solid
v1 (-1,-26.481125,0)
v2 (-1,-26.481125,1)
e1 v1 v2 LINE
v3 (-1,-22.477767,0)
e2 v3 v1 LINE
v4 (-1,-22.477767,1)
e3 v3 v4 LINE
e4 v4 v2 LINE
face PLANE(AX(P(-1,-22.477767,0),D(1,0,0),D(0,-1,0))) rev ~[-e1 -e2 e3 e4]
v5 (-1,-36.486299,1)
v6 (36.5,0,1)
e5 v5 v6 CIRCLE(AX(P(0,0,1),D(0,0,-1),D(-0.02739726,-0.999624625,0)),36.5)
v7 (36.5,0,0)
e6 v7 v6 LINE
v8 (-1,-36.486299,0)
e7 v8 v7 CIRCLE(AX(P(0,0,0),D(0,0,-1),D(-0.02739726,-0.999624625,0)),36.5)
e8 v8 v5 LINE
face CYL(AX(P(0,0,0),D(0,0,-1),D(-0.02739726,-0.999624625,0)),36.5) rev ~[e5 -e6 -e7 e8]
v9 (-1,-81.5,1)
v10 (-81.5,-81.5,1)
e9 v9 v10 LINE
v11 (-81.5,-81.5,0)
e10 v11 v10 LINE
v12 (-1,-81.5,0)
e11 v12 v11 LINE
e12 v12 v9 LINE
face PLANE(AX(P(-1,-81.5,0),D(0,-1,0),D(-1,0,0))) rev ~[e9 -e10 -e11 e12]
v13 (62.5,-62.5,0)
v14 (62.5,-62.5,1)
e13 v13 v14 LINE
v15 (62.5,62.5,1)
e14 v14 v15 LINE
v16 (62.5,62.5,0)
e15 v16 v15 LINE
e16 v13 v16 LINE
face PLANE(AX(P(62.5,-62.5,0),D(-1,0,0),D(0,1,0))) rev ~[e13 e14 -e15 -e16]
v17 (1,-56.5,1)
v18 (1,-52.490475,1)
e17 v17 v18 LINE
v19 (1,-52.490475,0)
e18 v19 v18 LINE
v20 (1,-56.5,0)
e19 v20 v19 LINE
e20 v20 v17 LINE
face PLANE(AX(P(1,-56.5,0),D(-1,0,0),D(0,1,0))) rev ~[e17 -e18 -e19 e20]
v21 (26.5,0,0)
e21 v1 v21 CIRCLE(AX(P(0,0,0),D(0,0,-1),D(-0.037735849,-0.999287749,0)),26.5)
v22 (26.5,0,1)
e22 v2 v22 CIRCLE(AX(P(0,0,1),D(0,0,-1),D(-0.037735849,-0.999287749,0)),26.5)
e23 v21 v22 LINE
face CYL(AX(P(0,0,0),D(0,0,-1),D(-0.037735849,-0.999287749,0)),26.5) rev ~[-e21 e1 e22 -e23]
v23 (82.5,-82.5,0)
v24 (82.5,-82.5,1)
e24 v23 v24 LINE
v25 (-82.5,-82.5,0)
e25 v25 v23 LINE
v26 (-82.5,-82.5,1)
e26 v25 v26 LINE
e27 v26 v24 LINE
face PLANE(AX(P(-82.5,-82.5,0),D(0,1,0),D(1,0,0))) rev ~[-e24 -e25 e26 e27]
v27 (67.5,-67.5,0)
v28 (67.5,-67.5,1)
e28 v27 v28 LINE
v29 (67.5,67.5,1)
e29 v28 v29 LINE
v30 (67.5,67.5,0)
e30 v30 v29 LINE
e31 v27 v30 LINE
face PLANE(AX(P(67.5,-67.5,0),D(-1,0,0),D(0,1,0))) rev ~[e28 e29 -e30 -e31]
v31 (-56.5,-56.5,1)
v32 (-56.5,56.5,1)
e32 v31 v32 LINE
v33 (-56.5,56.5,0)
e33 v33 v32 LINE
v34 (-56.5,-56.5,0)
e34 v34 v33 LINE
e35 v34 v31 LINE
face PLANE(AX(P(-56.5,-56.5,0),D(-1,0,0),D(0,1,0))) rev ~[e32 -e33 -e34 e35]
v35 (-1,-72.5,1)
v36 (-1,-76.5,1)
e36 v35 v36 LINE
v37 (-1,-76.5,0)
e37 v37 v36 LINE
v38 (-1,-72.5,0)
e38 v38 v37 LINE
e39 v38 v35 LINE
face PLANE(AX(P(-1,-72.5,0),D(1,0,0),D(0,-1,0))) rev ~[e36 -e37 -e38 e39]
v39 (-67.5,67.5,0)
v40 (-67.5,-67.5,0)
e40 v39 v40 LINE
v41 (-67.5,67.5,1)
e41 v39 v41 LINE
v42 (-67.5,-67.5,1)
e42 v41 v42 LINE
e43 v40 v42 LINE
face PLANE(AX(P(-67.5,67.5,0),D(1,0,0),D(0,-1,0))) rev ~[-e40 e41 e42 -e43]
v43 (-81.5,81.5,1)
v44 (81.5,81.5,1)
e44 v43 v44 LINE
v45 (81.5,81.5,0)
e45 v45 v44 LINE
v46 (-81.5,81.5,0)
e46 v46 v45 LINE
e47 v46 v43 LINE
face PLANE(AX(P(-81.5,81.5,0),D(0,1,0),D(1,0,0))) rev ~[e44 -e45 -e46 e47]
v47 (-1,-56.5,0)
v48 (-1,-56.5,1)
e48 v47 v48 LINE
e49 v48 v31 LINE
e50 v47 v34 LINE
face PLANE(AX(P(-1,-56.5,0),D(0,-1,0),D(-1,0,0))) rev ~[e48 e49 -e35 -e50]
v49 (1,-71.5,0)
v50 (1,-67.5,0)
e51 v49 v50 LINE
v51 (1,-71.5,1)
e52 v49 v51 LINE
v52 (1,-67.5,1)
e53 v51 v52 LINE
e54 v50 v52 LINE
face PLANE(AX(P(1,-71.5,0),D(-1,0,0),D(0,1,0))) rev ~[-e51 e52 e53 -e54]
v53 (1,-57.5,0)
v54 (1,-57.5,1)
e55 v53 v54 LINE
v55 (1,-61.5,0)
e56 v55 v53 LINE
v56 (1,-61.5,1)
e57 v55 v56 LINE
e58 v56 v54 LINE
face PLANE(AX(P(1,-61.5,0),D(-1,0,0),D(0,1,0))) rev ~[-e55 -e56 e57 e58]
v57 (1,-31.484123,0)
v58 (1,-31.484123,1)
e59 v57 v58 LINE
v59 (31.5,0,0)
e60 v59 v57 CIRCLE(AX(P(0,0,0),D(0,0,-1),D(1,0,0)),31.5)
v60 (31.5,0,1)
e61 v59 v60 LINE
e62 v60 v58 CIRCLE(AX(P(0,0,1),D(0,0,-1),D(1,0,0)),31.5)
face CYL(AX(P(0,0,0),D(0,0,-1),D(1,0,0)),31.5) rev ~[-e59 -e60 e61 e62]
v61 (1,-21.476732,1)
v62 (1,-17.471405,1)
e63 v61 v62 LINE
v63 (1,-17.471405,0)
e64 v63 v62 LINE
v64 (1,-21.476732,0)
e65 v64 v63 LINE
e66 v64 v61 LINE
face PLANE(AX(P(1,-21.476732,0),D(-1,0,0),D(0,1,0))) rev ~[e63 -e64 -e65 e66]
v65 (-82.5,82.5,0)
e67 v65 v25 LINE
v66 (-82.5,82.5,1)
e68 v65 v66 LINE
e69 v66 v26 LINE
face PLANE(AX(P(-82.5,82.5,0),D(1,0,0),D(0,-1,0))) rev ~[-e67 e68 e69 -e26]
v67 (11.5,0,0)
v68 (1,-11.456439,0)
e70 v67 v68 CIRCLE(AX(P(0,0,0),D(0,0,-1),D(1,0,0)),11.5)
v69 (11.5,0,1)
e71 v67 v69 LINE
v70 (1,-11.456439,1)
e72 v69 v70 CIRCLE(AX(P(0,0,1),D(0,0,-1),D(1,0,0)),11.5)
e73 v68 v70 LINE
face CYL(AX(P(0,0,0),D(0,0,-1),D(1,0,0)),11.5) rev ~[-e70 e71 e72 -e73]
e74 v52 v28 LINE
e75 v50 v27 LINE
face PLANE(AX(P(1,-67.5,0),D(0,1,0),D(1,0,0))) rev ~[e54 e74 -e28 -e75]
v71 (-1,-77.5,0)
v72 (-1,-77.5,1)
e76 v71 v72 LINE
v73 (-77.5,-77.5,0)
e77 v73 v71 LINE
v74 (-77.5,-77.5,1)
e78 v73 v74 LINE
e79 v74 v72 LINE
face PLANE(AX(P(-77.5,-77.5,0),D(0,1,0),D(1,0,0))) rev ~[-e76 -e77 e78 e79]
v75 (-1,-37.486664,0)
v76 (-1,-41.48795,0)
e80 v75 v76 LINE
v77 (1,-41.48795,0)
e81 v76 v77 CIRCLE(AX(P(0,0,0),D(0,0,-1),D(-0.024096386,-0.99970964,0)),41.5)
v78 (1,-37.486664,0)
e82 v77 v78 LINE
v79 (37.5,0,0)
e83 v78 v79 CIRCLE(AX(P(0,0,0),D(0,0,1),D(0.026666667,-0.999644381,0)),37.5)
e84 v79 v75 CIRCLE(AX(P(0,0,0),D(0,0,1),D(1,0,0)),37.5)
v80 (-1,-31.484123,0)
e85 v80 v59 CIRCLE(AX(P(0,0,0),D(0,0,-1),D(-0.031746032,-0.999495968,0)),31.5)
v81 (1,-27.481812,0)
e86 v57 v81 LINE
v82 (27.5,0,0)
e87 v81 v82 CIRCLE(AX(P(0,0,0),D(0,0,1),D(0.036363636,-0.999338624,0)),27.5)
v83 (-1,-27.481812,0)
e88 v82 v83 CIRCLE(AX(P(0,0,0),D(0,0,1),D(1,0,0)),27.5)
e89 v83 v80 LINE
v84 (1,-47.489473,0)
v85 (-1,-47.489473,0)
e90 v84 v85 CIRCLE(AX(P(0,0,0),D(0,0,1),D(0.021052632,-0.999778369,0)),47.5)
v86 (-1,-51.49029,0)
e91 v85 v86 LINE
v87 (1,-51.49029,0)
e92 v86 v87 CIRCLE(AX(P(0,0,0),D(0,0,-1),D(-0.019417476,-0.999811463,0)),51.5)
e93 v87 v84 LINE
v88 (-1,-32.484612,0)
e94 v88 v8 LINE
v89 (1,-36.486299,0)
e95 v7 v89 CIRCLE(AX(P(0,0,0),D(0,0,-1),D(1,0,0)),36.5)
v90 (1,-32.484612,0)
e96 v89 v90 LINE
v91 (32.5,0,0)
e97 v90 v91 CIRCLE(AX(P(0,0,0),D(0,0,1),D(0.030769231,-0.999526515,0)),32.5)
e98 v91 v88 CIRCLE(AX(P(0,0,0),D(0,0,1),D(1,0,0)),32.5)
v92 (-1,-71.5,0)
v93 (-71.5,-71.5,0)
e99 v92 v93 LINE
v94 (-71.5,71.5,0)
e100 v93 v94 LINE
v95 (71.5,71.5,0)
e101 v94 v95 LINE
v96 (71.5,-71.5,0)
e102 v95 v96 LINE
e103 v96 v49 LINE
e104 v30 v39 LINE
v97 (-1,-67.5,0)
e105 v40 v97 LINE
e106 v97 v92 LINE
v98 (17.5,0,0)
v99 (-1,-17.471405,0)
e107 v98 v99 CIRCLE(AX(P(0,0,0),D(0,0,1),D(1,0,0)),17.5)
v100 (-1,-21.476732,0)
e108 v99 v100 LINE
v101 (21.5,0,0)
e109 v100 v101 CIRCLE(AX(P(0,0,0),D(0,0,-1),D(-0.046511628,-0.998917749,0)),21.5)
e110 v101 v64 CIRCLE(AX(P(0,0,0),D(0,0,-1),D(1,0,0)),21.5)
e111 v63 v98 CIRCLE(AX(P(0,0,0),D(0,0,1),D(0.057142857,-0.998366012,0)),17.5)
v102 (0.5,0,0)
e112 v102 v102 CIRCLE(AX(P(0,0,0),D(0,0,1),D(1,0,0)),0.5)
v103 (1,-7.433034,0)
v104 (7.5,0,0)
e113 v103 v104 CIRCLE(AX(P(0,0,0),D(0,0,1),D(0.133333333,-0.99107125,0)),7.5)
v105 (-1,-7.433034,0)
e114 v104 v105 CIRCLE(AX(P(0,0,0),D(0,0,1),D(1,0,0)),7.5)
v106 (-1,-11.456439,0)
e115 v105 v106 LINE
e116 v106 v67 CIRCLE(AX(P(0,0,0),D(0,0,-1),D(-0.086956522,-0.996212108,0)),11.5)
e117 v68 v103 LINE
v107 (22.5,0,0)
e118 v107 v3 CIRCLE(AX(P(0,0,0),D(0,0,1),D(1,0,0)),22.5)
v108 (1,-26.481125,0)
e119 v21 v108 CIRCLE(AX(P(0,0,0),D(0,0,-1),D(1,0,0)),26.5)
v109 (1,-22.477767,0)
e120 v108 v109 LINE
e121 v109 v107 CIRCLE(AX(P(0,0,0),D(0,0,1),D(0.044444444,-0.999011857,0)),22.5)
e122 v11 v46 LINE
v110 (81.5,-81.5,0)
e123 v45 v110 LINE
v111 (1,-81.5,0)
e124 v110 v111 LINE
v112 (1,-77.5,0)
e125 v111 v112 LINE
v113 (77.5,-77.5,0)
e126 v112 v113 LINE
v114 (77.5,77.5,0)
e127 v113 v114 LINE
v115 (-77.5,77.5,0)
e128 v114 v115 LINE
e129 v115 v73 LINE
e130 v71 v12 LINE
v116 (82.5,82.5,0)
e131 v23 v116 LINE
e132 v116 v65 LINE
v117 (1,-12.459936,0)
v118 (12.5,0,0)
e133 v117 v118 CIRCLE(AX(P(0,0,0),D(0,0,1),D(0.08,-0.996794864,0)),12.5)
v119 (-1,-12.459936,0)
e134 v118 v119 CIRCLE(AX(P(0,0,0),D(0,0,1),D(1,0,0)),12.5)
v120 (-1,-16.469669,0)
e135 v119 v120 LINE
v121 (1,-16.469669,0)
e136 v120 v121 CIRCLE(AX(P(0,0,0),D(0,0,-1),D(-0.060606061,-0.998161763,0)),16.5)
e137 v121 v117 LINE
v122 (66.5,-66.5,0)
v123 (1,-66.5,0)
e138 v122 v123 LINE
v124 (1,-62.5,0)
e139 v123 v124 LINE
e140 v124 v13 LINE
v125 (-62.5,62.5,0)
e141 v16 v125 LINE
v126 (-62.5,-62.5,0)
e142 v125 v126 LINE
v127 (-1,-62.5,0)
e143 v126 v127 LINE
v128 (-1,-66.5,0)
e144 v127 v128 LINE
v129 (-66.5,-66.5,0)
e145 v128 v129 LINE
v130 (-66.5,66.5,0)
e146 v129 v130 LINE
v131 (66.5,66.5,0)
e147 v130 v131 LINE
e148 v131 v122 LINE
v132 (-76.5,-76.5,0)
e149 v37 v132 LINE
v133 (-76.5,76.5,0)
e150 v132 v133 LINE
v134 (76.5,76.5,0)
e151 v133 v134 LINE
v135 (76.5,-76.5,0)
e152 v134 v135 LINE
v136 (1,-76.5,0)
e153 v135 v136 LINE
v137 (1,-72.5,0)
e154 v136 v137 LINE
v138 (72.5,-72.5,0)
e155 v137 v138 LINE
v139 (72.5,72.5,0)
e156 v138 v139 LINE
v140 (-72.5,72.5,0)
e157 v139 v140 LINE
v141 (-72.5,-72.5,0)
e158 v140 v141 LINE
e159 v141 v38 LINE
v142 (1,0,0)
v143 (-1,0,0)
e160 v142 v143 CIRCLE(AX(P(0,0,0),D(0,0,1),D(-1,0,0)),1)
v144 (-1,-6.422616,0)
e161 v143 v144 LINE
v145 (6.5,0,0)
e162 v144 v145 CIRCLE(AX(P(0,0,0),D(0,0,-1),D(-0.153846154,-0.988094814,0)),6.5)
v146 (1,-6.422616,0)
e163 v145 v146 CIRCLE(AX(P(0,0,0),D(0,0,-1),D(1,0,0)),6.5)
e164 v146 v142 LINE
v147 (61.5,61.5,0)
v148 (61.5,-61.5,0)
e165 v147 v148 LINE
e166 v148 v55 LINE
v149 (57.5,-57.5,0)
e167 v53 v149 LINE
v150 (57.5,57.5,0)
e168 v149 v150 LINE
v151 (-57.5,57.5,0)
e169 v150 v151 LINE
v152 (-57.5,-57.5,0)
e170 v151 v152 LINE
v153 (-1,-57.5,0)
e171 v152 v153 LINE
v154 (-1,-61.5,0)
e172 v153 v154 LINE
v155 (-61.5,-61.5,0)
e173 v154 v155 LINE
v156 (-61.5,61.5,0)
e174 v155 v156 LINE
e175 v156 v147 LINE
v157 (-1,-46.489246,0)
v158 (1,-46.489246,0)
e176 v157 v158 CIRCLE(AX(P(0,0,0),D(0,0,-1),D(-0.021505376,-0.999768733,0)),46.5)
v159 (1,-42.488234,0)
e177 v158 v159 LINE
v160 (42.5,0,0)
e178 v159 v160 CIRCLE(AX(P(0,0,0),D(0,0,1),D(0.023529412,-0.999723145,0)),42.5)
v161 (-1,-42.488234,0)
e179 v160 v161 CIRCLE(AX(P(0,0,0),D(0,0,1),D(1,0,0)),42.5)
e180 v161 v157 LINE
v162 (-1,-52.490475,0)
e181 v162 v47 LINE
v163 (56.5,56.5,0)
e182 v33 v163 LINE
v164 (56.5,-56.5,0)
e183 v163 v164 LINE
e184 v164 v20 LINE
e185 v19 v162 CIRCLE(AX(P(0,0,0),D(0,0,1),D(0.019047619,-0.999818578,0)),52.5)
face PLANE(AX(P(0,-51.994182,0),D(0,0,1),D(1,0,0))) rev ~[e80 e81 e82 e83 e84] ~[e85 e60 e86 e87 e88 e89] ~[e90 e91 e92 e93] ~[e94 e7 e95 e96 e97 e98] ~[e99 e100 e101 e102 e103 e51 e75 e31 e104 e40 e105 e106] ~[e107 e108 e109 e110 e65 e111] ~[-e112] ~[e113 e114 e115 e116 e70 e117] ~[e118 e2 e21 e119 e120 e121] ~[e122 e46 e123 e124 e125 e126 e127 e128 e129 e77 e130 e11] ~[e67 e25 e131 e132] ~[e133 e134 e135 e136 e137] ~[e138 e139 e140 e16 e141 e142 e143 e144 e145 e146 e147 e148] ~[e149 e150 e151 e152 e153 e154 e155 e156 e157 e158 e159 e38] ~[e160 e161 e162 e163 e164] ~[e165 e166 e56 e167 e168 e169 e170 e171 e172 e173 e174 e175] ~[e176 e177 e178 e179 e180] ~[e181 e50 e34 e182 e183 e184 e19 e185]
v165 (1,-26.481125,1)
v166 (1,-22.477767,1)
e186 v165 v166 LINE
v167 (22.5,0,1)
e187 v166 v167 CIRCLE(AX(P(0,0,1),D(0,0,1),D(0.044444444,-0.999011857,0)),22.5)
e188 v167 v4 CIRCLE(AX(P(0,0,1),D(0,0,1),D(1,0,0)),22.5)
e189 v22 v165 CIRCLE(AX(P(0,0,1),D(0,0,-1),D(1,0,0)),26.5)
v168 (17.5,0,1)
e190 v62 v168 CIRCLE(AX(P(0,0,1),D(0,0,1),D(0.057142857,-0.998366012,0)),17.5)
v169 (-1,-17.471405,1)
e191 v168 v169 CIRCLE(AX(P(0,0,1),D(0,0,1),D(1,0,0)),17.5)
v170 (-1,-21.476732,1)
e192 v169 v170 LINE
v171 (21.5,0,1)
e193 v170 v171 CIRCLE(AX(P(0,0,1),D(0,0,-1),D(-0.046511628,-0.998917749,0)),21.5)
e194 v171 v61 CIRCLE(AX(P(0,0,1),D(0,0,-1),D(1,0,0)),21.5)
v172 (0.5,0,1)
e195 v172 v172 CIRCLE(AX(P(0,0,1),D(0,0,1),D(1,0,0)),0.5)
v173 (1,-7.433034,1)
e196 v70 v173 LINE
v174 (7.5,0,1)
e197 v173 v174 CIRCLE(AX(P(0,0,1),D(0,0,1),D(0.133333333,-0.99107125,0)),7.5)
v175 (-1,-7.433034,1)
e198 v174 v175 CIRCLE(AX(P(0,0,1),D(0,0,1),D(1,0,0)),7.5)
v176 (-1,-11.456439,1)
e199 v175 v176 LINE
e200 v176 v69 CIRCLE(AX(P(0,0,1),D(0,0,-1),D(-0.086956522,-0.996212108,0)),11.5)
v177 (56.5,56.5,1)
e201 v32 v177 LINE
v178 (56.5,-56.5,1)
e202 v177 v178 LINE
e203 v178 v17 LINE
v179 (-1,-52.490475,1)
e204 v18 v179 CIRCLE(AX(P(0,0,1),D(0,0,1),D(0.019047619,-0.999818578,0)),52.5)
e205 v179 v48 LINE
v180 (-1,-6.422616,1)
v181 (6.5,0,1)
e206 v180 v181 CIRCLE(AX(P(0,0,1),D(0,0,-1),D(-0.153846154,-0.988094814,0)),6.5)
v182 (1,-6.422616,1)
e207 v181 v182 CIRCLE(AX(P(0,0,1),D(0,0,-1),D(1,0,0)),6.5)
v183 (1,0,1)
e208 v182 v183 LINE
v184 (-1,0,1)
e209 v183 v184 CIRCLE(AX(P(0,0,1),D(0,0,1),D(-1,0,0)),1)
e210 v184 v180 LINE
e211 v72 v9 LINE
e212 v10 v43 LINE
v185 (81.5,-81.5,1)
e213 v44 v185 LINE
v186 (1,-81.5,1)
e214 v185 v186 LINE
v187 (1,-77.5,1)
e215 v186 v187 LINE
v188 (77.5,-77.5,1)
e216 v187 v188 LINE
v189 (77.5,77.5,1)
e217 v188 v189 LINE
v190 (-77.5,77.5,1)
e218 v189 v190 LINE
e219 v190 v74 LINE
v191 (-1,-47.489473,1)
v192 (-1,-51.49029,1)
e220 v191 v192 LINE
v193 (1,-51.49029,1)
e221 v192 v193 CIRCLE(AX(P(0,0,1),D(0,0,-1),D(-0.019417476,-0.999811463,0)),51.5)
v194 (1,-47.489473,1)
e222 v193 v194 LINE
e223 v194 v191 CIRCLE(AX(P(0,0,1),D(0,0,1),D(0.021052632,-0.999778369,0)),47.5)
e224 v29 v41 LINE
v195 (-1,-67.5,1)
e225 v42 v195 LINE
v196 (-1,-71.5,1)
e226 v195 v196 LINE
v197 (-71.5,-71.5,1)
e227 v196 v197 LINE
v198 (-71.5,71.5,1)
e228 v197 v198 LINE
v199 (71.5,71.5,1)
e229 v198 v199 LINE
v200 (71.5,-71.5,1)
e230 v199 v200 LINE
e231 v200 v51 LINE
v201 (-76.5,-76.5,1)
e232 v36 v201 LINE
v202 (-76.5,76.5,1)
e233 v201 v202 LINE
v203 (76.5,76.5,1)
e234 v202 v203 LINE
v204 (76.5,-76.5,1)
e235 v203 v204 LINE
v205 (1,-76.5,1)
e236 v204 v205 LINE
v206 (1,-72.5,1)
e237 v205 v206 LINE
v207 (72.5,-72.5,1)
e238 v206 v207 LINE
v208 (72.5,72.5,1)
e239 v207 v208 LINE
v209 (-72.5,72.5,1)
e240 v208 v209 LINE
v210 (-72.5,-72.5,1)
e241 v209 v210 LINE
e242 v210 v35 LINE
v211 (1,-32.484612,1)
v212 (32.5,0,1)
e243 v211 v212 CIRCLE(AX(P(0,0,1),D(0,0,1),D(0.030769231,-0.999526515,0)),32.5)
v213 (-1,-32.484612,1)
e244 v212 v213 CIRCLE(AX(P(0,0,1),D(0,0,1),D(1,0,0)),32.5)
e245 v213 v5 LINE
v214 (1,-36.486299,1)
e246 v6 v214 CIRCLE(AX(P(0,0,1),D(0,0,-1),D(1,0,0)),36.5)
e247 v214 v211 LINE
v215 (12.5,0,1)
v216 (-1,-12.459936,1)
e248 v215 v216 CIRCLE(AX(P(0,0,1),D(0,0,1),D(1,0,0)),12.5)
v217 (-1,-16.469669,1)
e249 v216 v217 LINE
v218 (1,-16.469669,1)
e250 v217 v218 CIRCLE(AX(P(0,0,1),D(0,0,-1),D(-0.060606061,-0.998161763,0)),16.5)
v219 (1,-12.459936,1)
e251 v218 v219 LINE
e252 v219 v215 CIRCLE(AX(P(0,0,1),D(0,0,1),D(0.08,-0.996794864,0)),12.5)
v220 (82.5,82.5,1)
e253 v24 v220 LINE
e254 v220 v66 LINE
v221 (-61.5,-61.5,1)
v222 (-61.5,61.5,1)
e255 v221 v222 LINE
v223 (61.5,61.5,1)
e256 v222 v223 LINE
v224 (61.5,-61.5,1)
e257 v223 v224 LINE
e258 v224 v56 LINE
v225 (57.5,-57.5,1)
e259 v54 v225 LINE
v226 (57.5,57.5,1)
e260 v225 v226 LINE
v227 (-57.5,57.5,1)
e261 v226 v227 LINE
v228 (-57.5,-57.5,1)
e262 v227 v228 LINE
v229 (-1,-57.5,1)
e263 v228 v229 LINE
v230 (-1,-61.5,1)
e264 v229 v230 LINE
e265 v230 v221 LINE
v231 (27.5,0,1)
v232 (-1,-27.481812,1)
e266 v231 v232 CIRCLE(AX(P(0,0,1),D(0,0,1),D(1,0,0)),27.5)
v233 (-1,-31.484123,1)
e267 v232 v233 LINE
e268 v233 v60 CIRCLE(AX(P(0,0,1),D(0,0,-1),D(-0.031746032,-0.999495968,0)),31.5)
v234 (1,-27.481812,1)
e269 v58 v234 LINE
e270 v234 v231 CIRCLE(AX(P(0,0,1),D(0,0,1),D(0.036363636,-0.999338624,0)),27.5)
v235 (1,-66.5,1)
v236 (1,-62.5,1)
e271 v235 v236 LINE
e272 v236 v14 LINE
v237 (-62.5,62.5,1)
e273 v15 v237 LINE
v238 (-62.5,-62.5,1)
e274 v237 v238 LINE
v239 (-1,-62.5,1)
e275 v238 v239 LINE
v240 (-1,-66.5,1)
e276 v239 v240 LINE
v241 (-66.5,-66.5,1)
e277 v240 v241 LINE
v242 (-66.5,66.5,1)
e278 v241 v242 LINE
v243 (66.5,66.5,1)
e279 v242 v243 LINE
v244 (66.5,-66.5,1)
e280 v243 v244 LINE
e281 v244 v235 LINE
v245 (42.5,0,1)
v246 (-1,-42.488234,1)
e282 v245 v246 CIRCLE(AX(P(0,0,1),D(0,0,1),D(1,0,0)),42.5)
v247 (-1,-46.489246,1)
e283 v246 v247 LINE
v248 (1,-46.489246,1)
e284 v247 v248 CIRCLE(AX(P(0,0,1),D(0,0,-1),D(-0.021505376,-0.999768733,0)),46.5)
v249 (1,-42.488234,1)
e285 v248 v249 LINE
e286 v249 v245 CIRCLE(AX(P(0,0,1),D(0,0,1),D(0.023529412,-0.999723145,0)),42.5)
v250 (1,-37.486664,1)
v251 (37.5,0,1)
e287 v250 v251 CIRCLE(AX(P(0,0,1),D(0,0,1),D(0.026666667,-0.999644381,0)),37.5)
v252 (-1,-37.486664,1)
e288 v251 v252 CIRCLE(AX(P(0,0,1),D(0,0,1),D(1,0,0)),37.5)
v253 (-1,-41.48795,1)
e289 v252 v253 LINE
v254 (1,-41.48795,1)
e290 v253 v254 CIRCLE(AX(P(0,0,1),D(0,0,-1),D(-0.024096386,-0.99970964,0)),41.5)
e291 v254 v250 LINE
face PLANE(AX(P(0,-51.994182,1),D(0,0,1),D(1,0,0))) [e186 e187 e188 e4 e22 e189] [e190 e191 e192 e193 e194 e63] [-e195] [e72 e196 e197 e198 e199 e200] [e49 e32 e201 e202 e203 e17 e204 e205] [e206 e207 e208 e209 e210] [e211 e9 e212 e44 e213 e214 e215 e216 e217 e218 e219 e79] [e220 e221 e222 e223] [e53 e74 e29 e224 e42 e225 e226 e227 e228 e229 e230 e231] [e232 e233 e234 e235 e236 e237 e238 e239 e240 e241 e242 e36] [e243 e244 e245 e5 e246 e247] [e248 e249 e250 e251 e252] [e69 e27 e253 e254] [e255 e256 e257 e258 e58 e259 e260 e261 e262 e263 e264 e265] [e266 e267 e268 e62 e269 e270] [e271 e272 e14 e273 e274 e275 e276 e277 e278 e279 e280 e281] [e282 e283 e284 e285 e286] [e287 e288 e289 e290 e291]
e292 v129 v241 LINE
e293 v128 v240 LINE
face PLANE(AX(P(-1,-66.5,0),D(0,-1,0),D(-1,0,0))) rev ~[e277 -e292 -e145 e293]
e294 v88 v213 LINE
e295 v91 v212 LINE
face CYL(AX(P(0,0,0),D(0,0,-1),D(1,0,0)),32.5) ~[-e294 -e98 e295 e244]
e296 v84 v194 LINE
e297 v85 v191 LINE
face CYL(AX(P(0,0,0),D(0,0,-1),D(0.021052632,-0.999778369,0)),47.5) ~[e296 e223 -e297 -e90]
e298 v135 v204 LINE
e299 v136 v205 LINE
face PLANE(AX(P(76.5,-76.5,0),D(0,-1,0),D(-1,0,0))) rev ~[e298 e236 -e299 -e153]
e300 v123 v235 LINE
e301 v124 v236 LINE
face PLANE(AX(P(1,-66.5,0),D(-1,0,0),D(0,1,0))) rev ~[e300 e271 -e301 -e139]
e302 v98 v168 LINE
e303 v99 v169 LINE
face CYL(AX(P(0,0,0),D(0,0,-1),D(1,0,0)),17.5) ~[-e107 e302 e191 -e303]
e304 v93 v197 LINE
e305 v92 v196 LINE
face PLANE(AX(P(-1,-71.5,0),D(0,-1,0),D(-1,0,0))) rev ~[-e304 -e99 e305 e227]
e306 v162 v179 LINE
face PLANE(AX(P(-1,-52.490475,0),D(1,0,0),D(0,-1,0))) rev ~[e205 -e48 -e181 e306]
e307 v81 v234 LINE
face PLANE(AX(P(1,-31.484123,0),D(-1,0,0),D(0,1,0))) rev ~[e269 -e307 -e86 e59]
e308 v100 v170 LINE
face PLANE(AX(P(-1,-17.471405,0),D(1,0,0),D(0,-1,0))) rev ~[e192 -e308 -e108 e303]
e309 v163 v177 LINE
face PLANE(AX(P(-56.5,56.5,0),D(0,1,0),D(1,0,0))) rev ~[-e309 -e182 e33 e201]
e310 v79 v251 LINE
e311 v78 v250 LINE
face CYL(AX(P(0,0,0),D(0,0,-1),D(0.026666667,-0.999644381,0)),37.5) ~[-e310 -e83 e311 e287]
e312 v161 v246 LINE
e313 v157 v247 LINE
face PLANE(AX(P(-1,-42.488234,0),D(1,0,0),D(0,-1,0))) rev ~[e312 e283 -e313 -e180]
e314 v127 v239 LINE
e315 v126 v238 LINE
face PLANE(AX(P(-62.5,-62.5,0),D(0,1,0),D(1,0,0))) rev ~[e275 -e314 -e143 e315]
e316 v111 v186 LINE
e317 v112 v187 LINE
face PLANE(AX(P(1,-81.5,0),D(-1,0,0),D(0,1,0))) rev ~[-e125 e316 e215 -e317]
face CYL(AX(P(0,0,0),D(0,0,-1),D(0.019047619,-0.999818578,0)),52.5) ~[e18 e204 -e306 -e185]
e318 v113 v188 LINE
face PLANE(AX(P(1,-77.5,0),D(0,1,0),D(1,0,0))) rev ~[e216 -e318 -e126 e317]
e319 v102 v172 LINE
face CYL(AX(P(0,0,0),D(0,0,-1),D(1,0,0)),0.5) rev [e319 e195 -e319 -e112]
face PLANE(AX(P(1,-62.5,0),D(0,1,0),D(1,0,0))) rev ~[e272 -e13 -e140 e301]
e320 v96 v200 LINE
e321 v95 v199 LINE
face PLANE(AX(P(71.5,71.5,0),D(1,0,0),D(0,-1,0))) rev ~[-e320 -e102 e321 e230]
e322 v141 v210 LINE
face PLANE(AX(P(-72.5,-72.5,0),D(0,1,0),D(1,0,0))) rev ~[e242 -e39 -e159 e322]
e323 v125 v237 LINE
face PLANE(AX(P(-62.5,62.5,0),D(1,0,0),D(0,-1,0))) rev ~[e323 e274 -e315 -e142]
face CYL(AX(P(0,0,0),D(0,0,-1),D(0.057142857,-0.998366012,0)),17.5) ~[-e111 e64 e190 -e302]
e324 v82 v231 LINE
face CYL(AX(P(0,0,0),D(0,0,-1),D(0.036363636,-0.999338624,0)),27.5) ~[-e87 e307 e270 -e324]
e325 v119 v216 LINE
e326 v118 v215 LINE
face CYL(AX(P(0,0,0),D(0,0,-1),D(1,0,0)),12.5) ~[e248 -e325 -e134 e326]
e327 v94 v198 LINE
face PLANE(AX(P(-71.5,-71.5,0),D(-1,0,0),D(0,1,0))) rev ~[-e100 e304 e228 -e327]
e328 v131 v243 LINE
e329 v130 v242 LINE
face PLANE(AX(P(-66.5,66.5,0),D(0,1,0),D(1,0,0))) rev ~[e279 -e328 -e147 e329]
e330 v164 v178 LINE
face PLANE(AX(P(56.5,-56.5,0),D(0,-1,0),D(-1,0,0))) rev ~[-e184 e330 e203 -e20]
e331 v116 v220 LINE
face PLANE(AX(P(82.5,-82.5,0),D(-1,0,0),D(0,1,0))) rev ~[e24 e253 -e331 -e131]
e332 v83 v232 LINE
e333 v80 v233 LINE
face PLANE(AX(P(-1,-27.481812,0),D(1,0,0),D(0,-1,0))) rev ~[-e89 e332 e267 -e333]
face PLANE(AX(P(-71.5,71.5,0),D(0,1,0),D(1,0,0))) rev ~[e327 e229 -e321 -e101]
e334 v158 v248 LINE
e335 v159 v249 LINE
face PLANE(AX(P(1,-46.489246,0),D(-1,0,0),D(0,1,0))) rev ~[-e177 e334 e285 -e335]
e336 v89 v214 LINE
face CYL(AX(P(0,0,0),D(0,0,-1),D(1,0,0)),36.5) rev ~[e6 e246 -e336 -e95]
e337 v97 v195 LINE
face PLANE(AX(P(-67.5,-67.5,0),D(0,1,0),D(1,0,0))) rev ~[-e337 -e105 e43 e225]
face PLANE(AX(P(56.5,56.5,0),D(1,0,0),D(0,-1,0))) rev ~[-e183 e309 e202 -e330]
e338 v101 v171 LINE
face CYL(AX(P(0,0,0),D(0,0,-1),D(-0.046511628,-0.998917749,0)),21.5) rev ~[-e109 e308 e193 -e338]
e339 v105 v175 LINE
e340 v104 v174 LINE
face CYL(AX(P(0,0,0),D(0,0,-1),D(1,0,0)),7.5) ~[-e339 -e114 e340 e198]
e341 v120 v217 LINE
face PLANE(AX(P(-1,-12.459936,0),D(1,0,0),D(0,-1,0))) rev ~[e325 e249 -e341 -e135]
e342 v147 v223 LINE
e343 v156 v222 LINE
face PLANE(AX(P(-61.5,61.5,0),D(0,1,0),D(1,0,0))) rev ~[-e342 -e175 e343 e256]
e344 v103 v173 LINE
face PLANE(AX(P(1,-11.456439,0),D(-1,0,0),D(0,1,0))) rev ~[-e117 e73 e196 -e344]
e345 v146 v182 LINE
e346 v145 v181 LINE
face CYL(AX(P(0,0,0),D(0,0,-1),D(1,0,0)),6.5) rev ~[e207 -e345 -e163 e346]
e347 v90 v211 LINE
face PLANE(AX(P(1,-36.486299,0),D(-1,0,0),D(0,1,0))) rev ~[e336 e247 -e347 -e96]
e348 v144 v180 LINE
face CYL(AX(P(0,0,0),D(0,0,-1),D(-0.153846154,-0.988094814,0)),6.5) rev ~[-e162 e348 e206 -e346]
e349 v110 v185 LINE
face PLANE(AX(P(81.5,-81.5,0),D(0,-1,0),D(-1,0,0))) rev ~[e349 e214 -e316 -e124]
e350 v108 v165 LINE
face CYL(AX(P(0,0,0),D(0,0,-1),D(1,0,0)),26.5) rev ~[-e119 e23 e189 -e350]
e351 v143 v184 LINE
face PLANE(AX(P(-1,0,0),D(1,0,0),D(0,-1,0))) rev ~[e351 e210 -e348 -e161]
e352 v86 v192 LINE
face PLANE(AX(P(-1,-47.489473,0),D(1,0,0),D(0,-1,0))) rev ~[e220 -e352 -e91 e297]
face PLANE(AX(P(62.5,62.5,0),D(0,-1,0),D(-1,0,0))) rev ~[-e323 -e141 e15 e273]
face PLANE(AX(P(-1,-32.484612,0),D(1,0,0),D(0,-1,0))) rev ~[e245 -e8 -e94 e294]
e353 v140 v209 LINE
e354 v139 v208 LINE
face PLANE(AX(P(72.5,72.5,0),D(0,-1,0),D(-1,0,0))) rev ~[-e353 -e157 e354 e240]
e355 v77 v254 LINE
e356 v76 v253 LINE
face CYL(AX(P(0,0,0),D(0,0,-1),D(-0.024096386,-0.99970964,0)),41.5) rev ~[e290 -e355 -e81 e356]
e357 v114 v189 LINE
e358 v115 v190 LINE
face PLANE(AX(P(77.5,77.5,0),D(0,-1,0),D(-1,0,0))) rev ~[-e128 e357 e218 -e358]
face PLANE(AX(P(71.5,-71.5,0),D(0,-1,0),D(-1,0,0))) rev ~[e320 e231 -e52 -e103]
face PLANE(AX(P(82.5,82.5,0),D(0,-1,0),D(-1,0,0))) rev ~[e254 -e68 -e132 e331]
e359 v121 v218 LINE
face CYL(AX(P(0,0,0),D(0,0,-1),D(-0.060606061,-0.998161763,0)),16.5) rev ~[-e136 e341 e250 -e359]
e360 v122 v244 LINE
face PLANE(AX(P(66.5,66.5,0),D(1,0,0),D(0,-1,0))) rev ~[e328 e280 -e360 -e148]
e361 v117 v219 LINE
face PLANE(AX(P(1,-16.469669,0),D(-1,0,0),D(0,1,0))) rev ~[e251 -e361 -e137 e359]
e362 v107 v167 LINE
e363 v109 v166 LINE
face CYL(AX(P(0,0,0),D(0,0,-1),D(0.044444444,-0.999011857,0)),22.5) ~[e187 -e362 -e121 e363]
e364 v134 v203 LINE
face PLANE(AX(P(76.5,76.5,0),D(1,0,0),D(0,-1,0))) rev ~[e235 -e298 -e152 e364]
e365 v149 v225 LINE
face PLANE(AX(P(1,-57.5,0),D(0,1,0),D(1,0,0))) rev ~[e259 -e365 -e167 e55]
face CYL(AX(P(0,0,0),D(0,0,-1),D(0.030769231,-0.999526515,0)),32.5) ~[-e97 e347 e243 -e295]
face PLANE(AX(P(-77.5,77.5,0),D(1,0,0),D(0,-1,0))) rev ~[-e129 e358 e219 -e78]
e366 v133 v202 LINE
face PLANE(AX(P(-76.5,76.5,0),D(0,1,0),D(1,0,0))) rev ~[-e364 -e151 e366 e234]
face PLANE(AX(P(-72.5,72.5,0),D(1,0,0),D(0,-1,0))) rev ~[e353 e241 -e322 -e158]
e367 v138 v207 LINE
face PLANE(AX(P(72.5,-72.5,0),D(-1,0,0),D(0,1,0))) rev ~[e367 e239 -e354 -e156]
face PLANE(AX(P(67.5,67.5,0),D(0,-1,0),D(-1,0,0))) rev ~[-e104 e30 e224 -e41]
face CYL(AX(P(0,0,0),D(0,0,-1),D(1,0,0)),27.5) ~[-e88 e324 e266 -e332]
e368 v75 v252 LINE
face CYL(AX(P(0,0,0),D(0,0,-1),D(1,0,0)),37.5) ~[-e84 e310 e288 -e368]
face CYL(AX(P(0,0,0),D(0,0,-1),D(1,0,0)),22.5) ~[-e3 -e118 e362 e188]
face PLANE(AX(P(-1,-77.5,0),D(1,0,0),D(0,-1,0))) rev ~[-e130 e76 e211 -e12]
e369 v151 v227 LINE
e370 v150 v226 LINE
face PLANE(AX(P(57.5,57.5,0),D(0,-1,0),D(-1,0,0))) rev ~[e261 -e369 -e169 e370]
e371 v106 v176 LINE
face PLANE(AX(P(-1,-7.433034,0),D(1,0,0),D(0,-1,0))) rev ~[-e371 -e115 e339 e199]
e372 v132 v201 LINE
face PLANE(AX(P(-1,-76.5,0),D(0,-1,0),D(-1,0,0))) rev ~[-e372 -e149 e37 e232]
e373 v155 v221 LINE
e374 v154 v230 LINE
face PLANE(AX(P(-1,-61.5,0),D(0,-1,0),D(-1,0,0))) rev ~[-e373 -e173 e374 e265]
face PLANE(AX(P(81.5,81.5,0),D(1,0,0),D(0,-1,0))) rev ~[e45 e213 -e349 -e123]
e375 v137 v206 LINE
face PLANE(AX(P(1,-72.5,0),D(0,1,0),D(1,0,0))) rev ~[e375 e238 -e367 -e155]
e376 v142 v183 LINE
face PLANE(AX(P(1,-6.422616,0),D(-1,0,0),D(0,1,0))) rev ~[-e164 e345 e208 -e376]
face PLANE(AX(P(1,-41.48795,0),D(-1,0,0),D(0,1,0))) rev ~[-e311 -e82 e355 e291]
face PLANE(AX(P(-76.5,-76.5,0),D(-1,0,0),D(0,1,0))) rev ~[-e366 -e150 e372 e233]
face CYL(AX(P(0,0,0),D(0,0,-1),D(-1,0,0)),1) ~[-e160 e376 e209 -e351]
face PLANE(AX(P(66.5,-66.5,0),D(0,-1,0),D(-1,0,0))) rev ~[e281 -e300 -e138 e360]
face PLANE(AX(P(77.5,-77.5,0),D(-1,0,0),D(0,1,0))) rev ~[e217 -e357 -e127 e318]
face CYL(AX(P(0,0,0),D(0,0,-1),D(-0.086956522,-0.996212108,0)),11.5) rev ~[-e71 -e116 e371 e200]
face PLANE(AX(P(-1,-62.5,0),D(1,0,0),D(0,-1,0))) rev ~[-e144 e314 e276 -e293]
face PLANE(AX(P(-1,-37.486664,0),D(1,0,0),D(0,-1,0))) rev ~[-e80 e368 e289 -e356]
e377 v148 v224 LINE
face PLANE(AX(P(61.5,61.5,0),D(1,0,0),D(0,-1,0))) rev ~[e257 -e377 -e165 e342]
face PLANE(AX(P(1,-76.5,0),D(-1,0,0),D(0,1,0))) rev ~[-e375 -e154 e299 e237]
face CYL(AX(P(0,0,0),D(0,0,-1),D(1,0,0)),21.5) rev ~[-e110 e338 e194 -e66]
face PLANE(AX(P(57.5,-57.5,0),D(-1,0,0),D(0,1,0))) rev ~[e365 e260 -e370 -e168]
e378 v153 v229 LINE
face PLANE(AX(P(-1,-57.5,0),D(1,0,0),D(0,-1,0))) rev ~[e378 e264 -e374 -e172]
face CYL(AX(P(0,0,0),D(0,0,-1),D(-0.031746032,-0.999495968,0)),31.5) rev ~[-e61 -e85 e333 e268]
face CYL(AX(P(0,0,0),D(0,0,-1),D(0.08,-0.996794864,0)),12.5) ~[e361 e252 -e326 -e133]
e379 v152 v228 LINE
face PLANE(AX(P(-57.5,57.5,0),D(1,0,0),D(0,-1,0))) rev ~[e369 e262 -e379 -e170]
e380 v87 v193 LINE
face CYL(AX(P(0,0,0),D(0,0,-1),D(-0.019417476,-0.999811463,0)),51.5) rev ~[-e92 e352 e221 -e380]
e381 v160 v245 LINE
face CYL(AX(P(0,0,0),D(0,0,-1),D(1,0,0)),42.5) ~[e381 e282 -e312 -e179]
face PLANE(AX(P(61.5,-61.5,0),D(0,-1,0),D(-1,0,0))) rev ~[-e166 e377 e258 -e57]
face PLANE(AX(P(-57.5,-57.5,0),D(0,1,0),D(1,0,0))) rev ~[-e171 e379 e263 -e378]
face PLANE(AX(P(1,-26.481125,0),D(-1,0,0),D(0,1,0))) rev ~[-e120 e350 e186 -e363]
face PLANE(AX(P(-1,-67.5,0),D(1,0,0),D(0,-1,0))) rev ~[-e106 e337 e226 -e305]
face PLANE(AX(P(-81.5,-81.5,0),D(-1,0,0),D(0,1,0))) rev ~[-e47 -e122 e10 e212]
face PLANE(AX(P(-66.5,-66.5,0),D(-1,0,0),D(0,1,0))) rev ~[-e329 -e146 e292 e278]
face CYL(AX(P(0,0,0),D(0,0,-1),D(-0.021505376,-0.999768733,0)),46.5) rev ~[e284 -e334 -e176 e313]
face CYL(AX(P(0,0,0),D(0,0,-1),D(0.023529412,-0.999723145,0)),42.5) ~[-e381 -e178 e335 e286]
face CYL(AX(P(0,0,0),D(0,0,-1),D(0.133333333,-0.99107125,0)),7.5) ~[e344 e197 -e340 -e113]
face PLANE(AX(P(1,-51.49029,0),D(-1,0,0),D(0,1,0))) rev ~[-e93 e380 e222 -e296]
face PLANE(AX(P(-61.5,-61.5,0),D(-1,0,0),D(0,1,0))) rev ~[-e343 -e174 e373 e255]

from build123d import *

# Parameters (mm, degrees)
F0_R     = 0.5
F0_W     = 2
F0_H     = 1
F0_H_2   = 4
F1_DEPTH = 1


with BuildPart() as f1:
    # F0 (on Top) → F1 (new body)
    with BuildSketch(Plane.XY):
        with BuildLine():
            Line((-1, -51.4902903468), (-1, -52.4904753265))
            ThreePointArc((-1, -52.4904753265), (0, -52.5), (1, -52.4904753265))
            Line((1, -52.4904753265), (1, -51.4902903468))
            ThreePointArc((1, -51.4902903468), (0, -51.5), (-1, -51.4902903468))
        make_face()
        with BuildLine():
            ThreePointArc((52.5, 0), (-36.7678528065, 37.4749916611), (-1, -52.4904753265))
            Line((-1, -52.4904753265), (-1, -51.4902903468))
            ThreePointArc((-1, -51.4902903468), (-36.060712694, 36.7678528065), (51.5, 0))
            ThreePointArc((51.5, 0), (36.7678528065, -36.060712694), (1, -51.4902903468))
            Line((1, -51.4902903468), (1, -52.4904753265))
            ThreePointArc((1, -52.4904753265), (37.4749916611, -36.7678528065), (52.5, 0))
        make_face()
        with BuildLine():
            Line((-1, -46.4892460683), (-1, -47.4894725176))
            ThreePointArc((-1, -47.4894725176), (0, -47.5), (1, -47.4894725176))
            Line((1, -47.4894725176), (1, -46.4892460683))
            ThreePointArc((1, -46.4892460683), (0, -46.5), (-1, -46.4892460683))
        make_face()
        with BuildLine():
            ThreePointArc((47.5, 0), (-33.2321380594, 33.9392840231), (-1, -47.4894725176))
            Line((-1, -47.4894725176), (-1, -46.4892460683))
            ThreePointArc((-1, -46.4892460683), (-32.524990392, 33.2321380594), (46.5, 0))
            ThreePointArc((46.5, 0), (33.2321380594, -32.524990392), (1, -46.4892460683))
            Line((1, -46.4892460683), (1, -47.4894725176))
            ThreePointArc((1, -47.4894725176), (33.9392840231, -33.2321380594), (47.5, 0))
        make_face()
        with BuildLine():
            Line((-1, -41.4879500578), (-1, -42.4882336653))
            ThreePointArc((-1, -42.4882336653), (0, -42.5), (1, -42.4882336653))
            Line((1, -42.4882336653), (1, -41.4879500578))
            ThreePointArc((1, -41.4879500578), (0, -41.5), (-1, -41.4879500578))
        make_face()
        with BuildLine():
            ThreePointArc((42.5, 0), (-29.6963802508, 30.4035359786), (-1, -42.4882336653))
            Line((-1, -42.4882336653), (-1, -41.4879500578))
            ThreePointArc((-1, -41.4879500578), (-28.9892221351, 29.6963802508), (41.5, 0))
            ThreePointArc((41.5, 0), (29.6963802508, -28.9892221351), (1, -41.4879500578))
            Line((1, -41.4879500578), (1, -42.4882336653))
            ThreePointArc((1, -42.4882336653), (30.4035359786, -29.6963802508), (42.5, 0))
        make_face()
        with BuildLine():
            Line((-1, -36.4862987983), (-1, -37.4866642955))
            ThreePointArc((-1, -37.4866642955), (0, -37.5), (1, -37.4866642955))
            Line((1, -37.4866642955), (1, -36.4862987983))
            ThreePointArc((1, -36.4862987983), (0, -36.5), (-1, -36.4862987983))
        make_face()
        with BuildLine():
            ThreePointArc((37.5, 0), (-26.1605619206, 26.8677315753), (-1, -37.4866642955))
            Line((-1, -37.4866642955), (-1, -36.4862987983))
            ThreePointArc((-1, -36.4862987983), (-25.4533887724, 26.1605619206), (36.5, 0))
            ThreePointArc((36.5, 0), (26.1605619206, -25.4533887724), (1, -36.4862987983))
            Line((1, -36.4862987983), (1, -37.4866642955))
            ThreePointArc((1, -37.4866642955), (26.8677315753, -26.1605619206), (37.5, 0))
        make_face()
        with BuildLine():
            Line((-1, -31.4841229829), (-1, -32.4846117416))
            ThreePointArc((-1, -32.4846117416), (0, -32.5), (1, -32.4846117416))
            Line((1, -32.4846117416), (1, -31.4841229829))
            ThreePointArc((1, -31.4841229829), (0, -31.5), (-1, -31.4841229829))
        make_face()
        with BuildLine():
            ThreePointArc((32.5, 0), (-22.6246546935, 23.3318451906), (-1, -32.4846117416))
            Line((-1, -32.4846117416), (-1, -31.4841229829))
            ThreePointArc((-1, -31.4841229829), (-21.9174587943, 22.6246546935), (31.5, 0))
            ThreePointArc((31.5, 0), (22.6246546935, -21.9174587943), (1, -31.4841229829))
            Line((1, -31.4841229829), (1, -32.4846117416))
            ThreePointArc((1, -32.4846117416), (23.3318451906, -22.6246546935), (32.5, 0))
        make_face()
        with BuildLine():
            Line((-1, -26.4811253537), (-1, -27.4818121673))
            ThreePointArc((-1, -27.4818121673), (0, -27.5), (1, -27.4818121673))
            Line((1, -27.4818121673), (1, -26.4811253537))
            ThreePointArc((1, -26.4811253537), (0, -26.5), (-1, -26.4811253537))
        make_face()
        with BuildLine():
            ThreePointArc((27.5, 0), (-19.0886091688, 19.7958328948), (-1, -27.4818121673))
            Line((-1, -27.4818121673), (-1, -26.4811253537))
            ThreePointArc((-1, -26.4811253537), (-18.3813764447, 19.0886091688), (26.5, 0))
            ThreePointArc((26.5, 0), (19.0886091688, -18.3813764447), (1, -26.4811253537))
            Line((1, -26.4811253537), (1, -27.4818121673))
            ThreePointArc((1, -27.4818121673), (19.7958328948, -19.0886091688), (27.5, 0))
        make_face()
        with BuildLine():
            Line((-1, -21.4767315949), (-1, -22.477766793))
            ThreePointArc((-1, -22.477766793), (0, -22.5), (1, -22.477766793))
            Line((1, -22.477766793), (1, -21.4767315949))
            ThreePointArc((1, -21.4767315949), (0, -21.5), (-1, -21.4767315949))
        make_face()
        with BuildLine():
            ThreePointArc((22.5, 0), (-15.552331015, 16.2596125415), (-1, -22.477766793))
            Line((-1, -22.477766793), (-1, -21.4767315949))
            ThreePointArc((-1, -21.4767315949), (-14.8450328393, 15.552331015), (21.5, 0))
            ThreePointArc((21.5, 0), (15.552331015, -14.8450328393), (1, -21.4767315949))
            Line((1, -21.4767315949), (1, -22.477766793))
            ThreePointArc((1, -22.477766793), (16.2596125415, -15.552331015), (22.5, 0))
        make_face()
        with BuildLine():
            Line((-1, -16.469669092), (-1, -17.4714052097))
            ThreePointArc((-1, -17.4714052097), (0, -17.5), (1, -17.4714052097))
            Line((1, -17.4714052097), (1, -16.469669092))
            ThreePointArc((1, -16.469669092), (0, -16.5), (-1, -16.469669092))
        make_face()
        with BuildLine():
            ThreePointArc((17.5, 0), (-12.0156148407, 12.72301065), (-1, -17.4714052097))
            Line((-1, -17.4714052097), (-1, -16.469669092))
            ThreePointArc((-1, -16.469669092), (-11.3081828779, 12.0156148407), (16.5, 0))
            ThreePointArc((16.5, 0), (12.0156148407, -11.3081828779), (1, -16.469669092))
            Line((1, -16.469669092), (1, -17.4714052097))
            ThreePointArc((1, -17.4714052097), (12.72301065, -12.0156148407), (17.5, 0))
        make_face()
        with BuildLine():
            Line((-1, -11.4564392374), (-1, -12.4599357944))
            ThreePointArc((-1, -12.4599357944), (0, -12.5), (1, -12.4599357944))
            Line((1, -12.4599357944), (1, -11.4564392374))
            ThreePointArc((1, -11.4564392374), (0, -11.5), (-1, -11.4564392374))
        make_face()
        with BuildLine():
            ThreePointArc((12.5, 0), (-8.4779124789, 9.1855865354), (-1, -12.4599357944))
            Line((-1, -12.4599357944), (-1, -11.4564392374))
            ThreePointArc((-1, -11.4564392374), (-7.770135134, 8.4779124789), (11.5, 0))
            ThreePointArc((11.5, 0), (8.4779124789, -7.770135134), (1, -11.4564392374))
            Line((1, -11.4564392374), (1, -12.4599357944))
            ThreePointArc((1, -12.4599357944), (9.1855865354, -8.4779124789), (12.5, 0))
        make_face()
        with BuildLine():
            Line((-1, -6.4226162893), (-1, -7.4330343737))
            ThreePointArc((-1, -7.4330343737), (0, -7.5), (1, -7.4330343737))
            Line((1, -7.4330343737), (1, -6.4226162893))
            ThreePointArc((1, -6.4226162893), (0, -6.5), (-1, -6.4226162893))
        make_face()
        with BuildLine():
            ThreePointArc((7.5, 0), (-4.9371044145, 5.6457948953), (-1, -7.4330343737))
            Line((-1, -7.4330343737), (-1, -6.4226162893))
            ThreePointArc((-1, -6.4226162893), (-4.2278836313, 4.9371044145), (6.5, 0))
            ThreePointArc((6.5, 0), (4.9371044145, -4.2278836313), (1, -6.4226162893))
            Line((1, -6.4226162893), (1, -7.4330343737))
            ThreePointArc((1, -7.4330343737), (5.6457948953, -4.9371044145), (7.5, 0))
        make_face()
        with BuildLine():
            ThreePointArc((1, 0), (0, 1), (-1, 0))
            ThreePointArc((-1, 0), (0, -1), (1, 0))
        make_face()
        Circle(F0_R, mode=Mode.SUBTRACT)
        with BuildLine():
            Line((-1, 0), (-1, -6.4226162893))
            ThreePointArc((-1, -6.4226162893), (0, -6.5), (1, -6.4226162893))
            Line((1, -6.4226162893), (1, 0))
            ThreePointArc((1, 0), (0, -1), (-1, 0))
        make_face()
        with BuildLine():
            Line((-1, -7.4330343737), (-1, -11.4564392374))
            ThreePointArc((-1, -11.4564392374), (0, -11.5), (1, -11.4564392374))
            Line((1, -11.4564392374), (1, -7.4330343737))
            ThreePointArc((1, -7.4330343737), (0, -7.5), (-1, -7.4330343737))
        make_face()
        with BuildLine():
            Line((-1, -12.4599357944), (-1, -16.469669092))
            ThreePointArc((-1, -16.469669092), (0, -16.5), (1, -16.469669092))
            Line((1, -16.469669092), (1, -12.4599357944))
            ThreePointArc((1, -12.4599357944), (0, -12.5), (-1, -12.4599357944))
        make_face()
        with BuildLine():
            Line((-1, -17.4714052097), (-1, -21.4767315949))
            ThreePointArc((-1, -21.4767315949), (0, -21.5), (1, -21.4767315949))
            Line((1, -21.4767315949), (1, -17.4714052097))
            ThreePointArc((1, -17.4714052097), (0, -17.5), (-1, -17.4714052097))
        make_face()
        with BuildLine():
            Line((-1, -22.477766793), (-1, -26.4811253537))
            ThreePointArc((-1, -26.4811253537), (0, -26.5), (1, -26.4811253537))
            Line((1, -26.4811253537), (1, -22.477766793))
            ThreePointArc((1, -22.477766793), (0, -22.5), (-1, -22.477766793))
        make_face()
        with BuildLine():
            Line((-1, -27.4818121673), (-1, -31.4841229829))
            ThreePointArc((-1, -31.4841229829), (0, -31.5), (1, -31.4841229829))
            Line((1, -31.4841229829), (1, -27.4818121673))
            ThreePointArc((1, -27.4818121673), (0, -27.5), (-1, -27.4818121673))
        make_face()
        with BuildLine():
            Line((-1, -32.4846117416), (-1, -36.4862987983))
            ThreePointArc((-1, -36.4862987983), (0, -36.5), (1, -36.4862987983))
            Line((1, -36.4862987983), (1, -32.4846117416))
            ThreePointArc((1, -32.4846117416), (0, -32.5), (-1, -32.4846117416))
        make_face()
        with BuildLine():
            Line((-1, -37.4866642955), (-1, -41.4879500578))
            ThreePointArc((-1, -41.4879500578), (0, -41.5), (1, -41.4879500578))
            Line((1, -41.4879500578), (1, -37.4866642955))
            ThreePointArc((1, -37.4866642955), (0, -37.5), (-1, -37.4866642955))
        make_face()
        with BuildLine():
            Line((-1, -42.4882336653), (-1, -46.4892460683))
            ThreePointArc((-1, -46.4892460683), (0, -46.5), (1, -46.4892460683))
            Line((1, -46.4892460683), (1, -42.4882336653))
            ThreePointArc((1, -42.4882336653), (0, -42.5), (-1, -42.4882336653))
        make_face()
        with BuildLine():
            Line((-1, -47.4894725176), (-1, -51.4902903468))
            ThreePointArc((-1, -51.4902903468), (0, -51.5), (1, -51.4902903468))
            Line((1, -51.4902903468), (1, -47.4894725176))
            ThreePointArc((1, -47.4894725176), (0, -47.5), (-1, -47.4894725176))
        make_face()
        with BuildLine():
            Line((-1, -52.4904753265), (-1, -56.5))
            Line((-1, -56.5), (1, -56.5))
            Line((1, -56.5), (1, -52.4904753265))
            ThreePointArc((1, -52.4904753265), (0, -52.5), (-1, -52.4904753265))
        make_face()
        with Locations((0, -57)):
            Rectangle(F0_W, F0_H)
        with Locations((0, -59.5)):
            Rectangle(F0_W, F0_H_2)
        with Locations((0, -62)):
            Rectangle(F0_W, F0_H)
        with Locations((0, -64.5)):
            Rectangle(F0_W, F0_H_2)
        with Locations((0, -67)):
            Rectangle(F0_W, F0_H)
        with Locations((0, -69.5)):
            Rectangle(F0_W, F0_H_2)
        with Locations((0, -72)):
            Rectangle(F0_W, F0_H)
        with Locations((0, -74.5)):
            Rectangle(F0_W, F0_H_2)
        with Locations((0, -77)):
            Rectangle(F0_W, F0_H)
        with Locations((0, -79.5)):
            Rectangle(F0_W, F0_H_2)
        with Locations((0, -82)):
            Rectangle(F0_W, F0_H)
        Polygon((-1, -81.5), (-81.5, -81.5), (-81.5, 81.5), (81.5, 81.5), (81.5, -81.5), (1, -81.5), (1, -82.5), (82.5, -82.5), (82.5, 82.5), (-82.5, 82.5), (-82.5, -82.5), (-1, -82.5), align=None)
        Polygon((-77.5, -77.5), (-1, -77.5), (-1, -76.5), (-76.5, -76.5), (-76.5, 76.5), (76.5, 76.5), (76.5, -76.5), (1, -76.5), (1, -77.5), (77.5, -77.5), (77.5, 77.5), (-77.5, 77.5), align=None)
        Polygon((-72.5, -72.5), (-1, -72.5), (-1, -71.5), (-71.5, -71.5), (-71.5, 71.5), (71.5, 71.5), (71.5, -71.5), (1, -71.5), (1, -72.5), (72.5, -72.5), (72.5, 72.5), (-72.5, 72.5), align=None)
        Polygon((-67.5, -67.5), (-1, -67.5), (-1, -66.5), (-66.5, -66.5), (-66.5, 66.5), (66.5, 66.5), (66.5, -66.5), (1, -66.5), (1, -67.5), (67.5, -67.5), (67.5, 67.5), (-67.5, 67.5), align=None)
        Polygon((-62.5, -62.5), (-1, -62.5), (-1, -61.5), (-61.5, -61.5), (-61.5, 61.5), (61.5, 61.5), (61.5, -61.5), (1, -61.5), (1, -62.5), (62.5, -62.5), (62.5, 62.5), (-62.5, 62.5), align=None)
        Polygon((-57.5, -57.5), (-1, -57.5), (-1, -56.5), (-56.5, -56.5), (-56.5, 56.5), (56.5, 56.5), (56.5, -56.5), (1, -56.5), (1, -57.5), (57.5, -57.5), (57.5, 57.5), (-57.5, 57.5), align=None)
    extrude(amount=F1_DEPTH)


solid = f1.part
